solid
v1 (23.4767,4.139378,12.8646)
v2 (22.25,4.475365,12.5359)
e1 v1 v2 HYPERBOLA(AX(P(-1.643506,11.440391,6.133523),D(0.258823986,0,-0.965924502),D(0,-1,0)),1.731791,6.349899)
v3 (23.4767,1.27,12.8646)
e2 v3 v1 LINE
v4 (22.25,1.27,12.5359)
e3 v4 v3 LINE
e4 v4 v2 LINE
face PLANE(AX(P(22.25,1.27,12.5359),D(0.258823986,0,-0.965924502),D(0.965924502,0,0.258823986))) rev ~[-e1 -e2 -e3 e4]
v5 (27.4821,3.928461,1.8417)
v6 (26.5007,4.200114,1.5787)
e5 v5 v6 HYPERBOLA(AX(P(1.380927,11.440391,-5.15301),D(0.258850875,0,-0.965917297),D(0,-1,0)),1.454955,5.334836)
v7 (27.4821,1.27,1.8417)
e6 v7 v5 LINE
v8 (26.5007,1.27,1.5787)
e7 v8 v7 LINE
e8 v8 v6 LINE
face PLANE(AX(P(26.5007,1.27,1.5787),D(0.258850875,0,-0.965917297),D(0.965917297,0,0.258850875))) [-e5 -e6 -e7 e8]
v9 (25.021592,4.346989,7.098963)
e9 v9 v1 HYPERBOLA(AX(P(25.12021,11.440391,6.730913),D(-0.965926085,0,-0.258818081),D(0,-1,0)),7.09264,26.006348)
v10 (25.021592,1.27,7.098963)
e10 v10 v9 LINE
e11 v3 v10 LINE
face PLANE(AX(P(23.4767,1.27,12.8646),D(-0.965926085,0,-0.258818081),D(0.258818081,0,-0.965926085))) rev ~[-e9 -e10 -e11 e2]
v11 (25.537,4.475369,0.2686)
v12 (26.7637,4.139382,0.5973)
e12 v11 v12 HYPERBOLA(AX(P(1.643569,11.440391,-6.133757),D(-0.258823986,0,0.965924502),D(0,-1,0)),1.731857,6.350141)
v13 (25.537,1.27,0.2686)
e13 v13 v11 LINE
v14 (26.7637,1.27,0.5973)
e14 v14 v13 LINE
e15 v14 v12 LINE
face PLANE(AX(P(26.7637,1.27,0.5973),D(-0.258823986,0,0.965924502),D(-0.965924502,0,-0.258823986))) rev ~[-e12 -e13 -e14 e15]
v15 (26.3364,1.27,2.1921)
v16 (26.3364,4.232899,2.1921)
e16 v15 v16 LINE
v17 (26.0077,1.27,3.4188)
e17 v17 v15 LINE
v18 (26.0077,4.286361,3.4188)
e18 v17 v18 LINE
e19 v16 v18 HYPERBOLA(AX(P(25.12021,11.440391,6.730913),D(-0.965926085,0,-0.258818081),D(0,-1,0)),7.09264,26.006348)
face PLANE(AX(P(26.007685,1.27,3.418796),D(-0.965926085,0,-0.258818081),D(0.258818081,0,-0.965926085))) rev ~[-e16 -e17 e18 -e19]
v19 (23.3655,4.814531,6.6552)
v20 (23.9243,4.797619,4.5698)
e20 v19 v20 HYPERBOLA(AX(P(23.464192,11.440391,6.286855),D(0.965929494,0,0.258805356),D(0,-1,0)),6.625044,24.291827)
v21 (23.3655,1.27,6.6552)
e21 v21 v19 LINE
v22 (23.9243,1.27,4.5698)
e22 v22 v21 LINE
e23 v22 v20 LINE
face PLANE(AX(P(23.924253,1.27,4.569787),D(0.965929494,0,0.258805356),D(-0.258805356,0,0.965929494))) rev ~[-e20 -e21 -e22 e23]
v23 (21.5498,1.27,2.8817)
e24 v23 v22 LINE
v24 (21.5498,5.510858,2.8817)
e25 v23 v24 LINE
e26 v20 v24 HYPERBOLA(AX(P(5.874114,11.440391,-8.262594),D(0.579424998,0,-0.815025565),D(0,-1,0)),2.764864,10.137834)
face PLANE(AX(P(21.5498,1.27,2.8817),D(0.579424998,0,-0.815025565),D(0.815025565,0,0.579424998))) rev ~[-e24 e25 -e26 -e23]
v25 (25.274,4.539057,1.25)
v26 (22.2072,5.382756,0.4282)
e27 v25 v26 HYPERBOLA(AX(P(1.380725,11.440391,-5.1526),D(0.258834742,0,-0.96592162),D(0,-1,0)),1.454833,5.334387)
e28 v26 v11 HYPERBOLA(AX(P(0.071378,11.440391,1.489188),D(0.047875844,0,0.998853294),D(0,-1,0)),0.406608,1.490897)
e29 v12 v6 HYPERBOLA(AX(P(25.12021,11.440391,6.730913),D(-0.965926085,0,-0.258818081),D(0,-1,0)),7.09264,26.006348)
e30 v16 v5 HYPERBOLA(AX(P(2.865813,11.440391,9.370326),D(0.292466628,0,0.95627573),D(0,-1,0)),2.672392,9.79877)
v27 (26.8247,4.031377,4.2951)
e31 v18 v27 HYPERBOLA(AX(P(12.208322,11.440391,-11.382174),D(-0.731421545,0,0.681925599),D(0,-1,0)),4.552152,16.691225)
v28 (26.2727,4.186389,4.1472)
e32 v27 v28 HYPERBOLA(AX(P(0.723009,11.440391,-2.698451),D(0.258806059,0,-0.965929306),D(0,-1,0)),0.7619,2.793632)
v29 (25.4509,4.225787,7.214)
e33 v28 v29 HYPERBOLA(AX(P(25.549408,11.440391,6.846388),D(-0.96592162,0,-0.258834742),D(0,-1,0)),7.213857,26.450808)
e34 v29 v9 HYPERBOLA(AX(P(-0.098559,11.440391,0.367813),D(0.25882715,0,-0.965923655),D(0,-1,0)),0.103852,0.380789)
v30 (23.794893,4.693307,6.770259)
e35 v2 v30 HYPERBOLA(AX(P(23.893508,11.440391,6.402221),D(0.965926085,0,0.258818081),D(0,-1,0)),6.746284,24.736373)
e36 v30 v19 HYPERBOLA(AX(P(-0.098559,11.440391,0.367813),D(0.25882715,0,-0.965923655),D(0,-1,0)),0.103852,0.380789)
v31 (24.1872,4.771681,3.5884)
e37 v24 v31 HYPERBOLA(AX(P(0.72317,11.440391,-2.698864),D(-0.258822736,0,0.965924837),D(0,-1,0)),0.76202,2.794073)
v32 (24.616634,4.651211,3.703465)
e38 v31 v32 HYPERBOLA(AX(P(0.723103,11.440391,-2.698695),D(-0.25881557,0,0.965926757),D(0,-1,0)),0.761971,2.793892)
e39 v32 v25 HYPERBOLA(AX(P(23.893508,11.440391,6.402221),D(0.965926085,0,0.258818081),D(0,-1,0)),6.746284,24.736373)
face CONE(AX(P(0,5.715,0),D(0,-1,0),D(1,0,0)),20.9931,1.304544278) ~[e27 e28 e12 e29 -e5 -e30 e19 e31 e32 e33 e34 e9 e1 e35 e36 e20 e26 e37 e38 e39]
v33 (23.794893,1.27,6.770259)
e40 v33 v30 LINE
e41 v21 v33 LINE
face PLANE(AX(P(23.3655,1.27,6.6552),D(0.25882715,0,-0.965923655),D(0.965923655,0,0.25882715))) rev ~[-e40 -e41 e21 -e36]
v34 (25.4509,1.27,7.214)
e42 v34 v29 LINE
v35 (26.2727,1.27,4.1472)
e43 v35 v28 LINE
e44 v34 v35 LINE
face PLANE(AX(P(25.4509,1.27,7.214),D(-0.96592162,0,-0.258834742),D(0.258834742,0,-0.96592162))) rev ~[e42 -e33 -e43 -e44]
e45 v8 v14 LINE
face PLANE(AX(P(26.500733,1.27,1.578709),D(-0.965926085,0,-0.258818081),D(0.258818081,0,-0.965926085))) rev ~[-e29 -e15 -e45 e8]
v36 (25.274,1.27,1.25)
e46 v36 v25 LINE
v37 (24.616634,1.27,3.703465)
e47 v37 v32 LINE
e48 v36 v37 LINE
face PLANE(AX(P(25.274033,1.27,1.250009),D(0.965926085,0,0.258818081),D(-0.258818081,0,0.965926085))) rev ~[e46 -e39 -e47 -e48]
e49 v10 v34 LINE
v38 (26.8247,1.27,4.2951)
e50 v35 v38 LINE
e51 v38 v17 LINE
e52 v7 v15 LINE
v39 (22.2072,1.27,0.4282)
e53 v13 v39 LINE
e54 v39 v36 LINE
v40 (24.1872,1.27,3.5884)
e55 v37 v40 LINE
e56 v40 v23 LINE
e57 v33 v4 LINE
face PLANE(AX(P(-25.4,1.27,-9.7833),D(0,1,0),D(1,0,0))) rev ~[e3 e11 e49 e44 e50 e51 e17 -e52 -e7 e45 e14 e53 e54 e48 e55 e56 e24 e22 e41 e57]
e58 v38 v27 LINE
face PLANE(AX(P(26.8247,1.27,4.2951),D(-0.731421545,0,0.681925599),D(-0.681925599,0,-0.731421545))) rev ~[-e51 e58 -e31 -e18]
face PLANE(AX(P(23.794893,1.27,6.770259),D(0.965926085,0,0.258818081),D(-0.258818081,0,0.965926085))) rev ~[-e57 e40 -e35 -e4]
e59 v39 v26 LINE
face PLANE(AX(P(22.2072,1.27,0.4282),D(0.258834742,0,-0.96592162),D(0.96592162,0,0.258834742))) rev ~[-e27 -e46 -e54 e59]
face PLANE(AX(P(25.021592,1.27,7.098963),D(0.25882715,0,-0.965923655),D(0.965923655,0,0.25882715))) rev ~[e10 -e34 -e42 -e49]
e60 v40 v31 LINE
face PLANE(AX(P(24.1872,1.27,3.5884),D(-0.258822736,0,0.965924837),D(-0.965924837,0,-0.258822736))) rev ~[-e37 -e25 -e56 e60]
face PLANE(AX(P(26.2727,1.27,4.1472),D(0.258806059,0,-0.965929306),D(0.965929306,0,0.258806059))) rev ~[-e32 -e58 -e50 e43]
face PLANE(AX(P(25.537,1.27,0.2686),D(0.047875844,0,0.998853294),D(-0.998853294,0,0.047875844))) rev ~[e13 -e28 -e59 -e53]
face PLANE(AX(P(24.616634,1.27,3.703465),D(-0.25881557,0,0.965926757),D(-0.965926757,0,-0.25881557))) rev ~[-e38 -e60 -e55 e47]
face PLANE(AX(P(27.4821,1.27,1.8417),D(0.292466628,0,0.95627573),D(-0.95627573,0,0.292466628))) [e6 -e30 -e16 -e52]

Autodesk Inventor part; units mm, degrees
ref_plane "YZ Plane" through (0, 0, 0) normal (1, 0, 0) x (0, 1, 0)
ref_plane "XZ Plane" through (0, 0, 0) normal (0, 1, 0) x (-1, 0, 0)
ref_plane "XY Plane" through (0, 0, 0) normal (0, 0, 1) x (1, 0, 0)
sketch "Sketch1" plane through (0, 0, 0) normal (0, 0, 1) x (1, 0, 0)
  line L0 (0, 0) -> (0, 8.6646) construction
  line L1 (20.9931, 1.27) -> (20.9931, 5.715)
  line L2 (20.9931, 5.715) -> (27.9781, 3.81)
  line L3 (27.9781, 3.81) -> (27.9781, 0)
  line L4 (27.9781, 0) -> (20.9931, 0)
  line L5 (20.9931, 1.27) -> (18.4531, 1.27)
  line L6 (18.4531, 1.27) -> (18.4531, 0)
  line L7 (18.4531, 0) -> (20.9931, 0)
  dimension "d0" = 20.9931
  dimension "d1" = 4.445
  dimension "d2" = 1.27
  dimension "d3" = 2.54
  dimension "d4" = 3.81
  dimension "d5" = 6.985
revolve "Revolution1" add sketch "Sketch1" angle 360 about axis through (0, 0, 0) along (0, 1, 0)
sketch "Sketch2" plane through (0, 1.27, 0) normal (0, 1, 0) x (1, 0, 0)
  circle A0 centre (0, 0) radius 20.9931 projected
  circle A1 centre (0, 0) radius 27.9781 projected
  circle A2 centre (0, 0) radius 18.4531 projected
  line L0 (-4.2505, -7.1349) -> (4.1315, -7.1349) projected
  circle A3 centre (0, 0) radius 19.685 projected
  line L1 (-12.7595, -2.2222) -> (-12.7595, -29.7716) construction
  line L2 (12.6405, -2.2222) -> (12.6405, -30.8961) construction
  line L3 (-12.7549, -7.1349) -> (-31.6502, -7.1349) construction
  line L4 (0, 0) -> (17.3317, 30.0193) construction
  line L5 (-18.5741, 9.7833) -> (-25.4, 9.7833)
  line L6 (-18.8949, 9.1483) -> (-25.4, 9.1483)
  line L7 (-25.4, 9.1483) -> (-25.4, 9.7833)
  line L8 (-19.8553, -6.8174) -> (-25.4, -6.8174)
  line L9 (-25.4, -6.8174) -> (-25.4, -7.4524)
  line L10 (-25.4, -7.4524) -> (-19.6258, -7.4524)
  line L11 (0.1351, 9.4658) -> (-31.517, 9.4658) construction
  line L12 (-24.13, 9.1483) -> (-22.86, 6.9486)
  line L13 (-22.86, 6.9486) -> (-25.4, 6.9486)
  line L14 (-25.4, 6.9486) -> (-24.13, 9.1483)
  line L15 (-24.13, -6.8174) -> (-25.4, -4.6177)
  line L16 (-25.4, -4.6177) -> (-22.86, -4.6177)
  line L17 (-22.86, -4.6177) -> (-24.13, -6.8174)
  line L18 (-29.0818, 1.1654) -> (-16.5563, 1.1654) construction
  line L19 (-24.13, 7.6818) -> (-24.13, -5.3509) construction
  line L20 (-23.8125, 2.4354) -> (-24.4475, 2.4354)
  line L21 (-24.4475, 2.4354) -> (-24.4475, 6.9486)
  line L22 (-24.4475, 6.9486) -> (-23.8125, 6.9486)
  line L23 (-23.8125, 6.9486) -> (-23.8125, 2.4354)
  line L24 (-23.8125, 2.4354) -> (-24.4475, 6.9486) construction
  line L25 (-24.4475, 2.4354) -> (-23.8125, 6.9486) construction
  line L26 (-23.8125, -0.1046) -> (-24.4475, -0.1046)
  line L27 (-24.4475, -0.1046) -> (-24.4475, -4.6177)
  line L28 (-24.4475, -4.6177) -> (-23.8125, -4.6177)
  line L29 (-23.8125, -4.6177) -> (-23.8125, -0.1046)
  line L30 (-23.8125, -0.1046) -> (-24.4475, -4.6177) construction
  line L31 (-24.4475, -0.1046) -> (-23.8125, -4.6177) construction
  line L32 (-13.077, -16.4226) -> (-13.077, -23.7886)
  line L33 (-13.077, -23.7886) -> (-12.442, -23.7886)
  line L34 (-12.442, -23.7886) -> (-12.442, -16.9088)
  line L35 (12.323, -16.9957) -> (12.323, -23.7886)
  line L36 (12.323, -23.7886) -> (12.958, -23.7886)
  line L37 (12.958, -23.7886) -> (12.958, -16.5167)
  line L38 (-12.442, -22.5186) -> (-10.2423, -21.2486)
  line L39 (-10.2423, -21.2486) -> (-10.2423, -23.7886)
  line L40 (-10.2423, -23.7886) -> (-12.442, -22.5186)
  line L41 (12.323, -22.5186) -> (10.1233, -23.7886)
  line L42 (10.1233, -23.7886) -> (10.1233, -21.2486)
  line L43 (10.1233, -21.2486) -> (12.323, -22.5186)
  line L44 (-3.8695, -21.2486) -> (3.7505, -21.2486) construction
  line L45 (3.7505, -21.2486) -> (3.7505, -23.7886) construction
  line L46 (3.7505, -23.7886) -> (-3.8695, -23.7886) construction
  line L47 (-3.8695, -23.7886) -> (-3.8695, -21.2486) construction
  line L48 (-0.0595, -13.6296) -> (-0.0595, -32.797) construction
  line L49 (-10.2423, -22.5186) -> (10.1233, -22.5186) construction
  line L50 (-4.2505, -22.8361) -> (-10.2423, -22.8361)
  line L51 (-10.2423, -22.8361) -> (-10.2423, -22.2011)
  line L52 (-10.2423, -22.2011) -> (-4.2505, -22.2011)
  line L53 (-4.2505, -22.2011) -> (-4.2505, -22.8361)
  line L54 (-4.2505, -22.8361) -> (-10.2423, -22.2011) construction
  line L55 (-10.2423, -22.8361) -> (-4.2505, -22.2011) construction
  line L56 (4.1315, -22.2011) -> (10.1233, -22.2011)
  line L57 (10.1233, -22.2011) -> (10.1233, -22.8361)
  line L58 (10.1233, -22.8361) -> (4.1315, -22.8361)
  line L59 (4.1315, -22.8361) -> (4.1315, -22.2011)
  line L60 (4.1315, -22.2011) -> (10.1233, -22.8361) construction
  line L61 (10.1233, -22.2011) -> (4.1315, -22.8361) construction
  line L62 (10.2204, 18.3372) -> (11.1133, 19.8839)
  line L63 (11.1133, 19.8839) -> (11.6633, 19.5664)
  line L64 (11.6633, 19.5664) -> (10.7703, 18.0197)
  line L65 (12.8992, 20.8364) -> (18.6142, 20.8364) construction
  line L66 (18.6142, 20.8364) -> (18.6142, 18.2964) construction
  line L67 (18.6142, 18.2964) -> (12.8992, 18.2964) construction
  line L68 (12.8992, 18.2964) -> (12.8992, 20.8364) construction
  line L69 (11.1133, 19.8839) -> (12.8992, 19.8839)
  line L70 (12.8992, 19.8839) -> (12.8992, 19.2489)
  line L71 (12.8992, 19.2489) -> (11.1133, 19.2489)
  line L72 (11.1133, 19.2489) -> (11.1133, 19.8839)
  line L73 (11.1133, 19.8839) -> (12.8992, 19.2489) construction
  line L74 (12.8992, 19.8839) -> (11.1133, 19.2489) construction
  circle A4 centre (0, 0) radius 22.8981 construction
  line L75 (11.4654, -8.564) -> (6.3194, -8.564) projected
  spline S0 degree 2 poles (-4.3048, 23.0885) (-4.5009, 22.6771) (-4.9694, 22.2828) (-5.345, 22.1916) knots 0 0 0 1 2 2 2
  spline S1 degree 2 poles (-5.345, 22.1916) (-5.9856, 22.0361) (-6.5218, 22.4794) knots 0 0 0 1 1 1
  spline S2 degree 2 poles (-6.5218, 22.4794) (-7.071, 22.9258) (-7.2859, 23.8109) knots 0 0 0 1 1 1
  spline S3 degree 2 poles (-7.2859, 23.8109) (-7.5233, 24.7892) (-7.1789, 25.4155) knots 0 0 0 1 1 1
  spline S4 degree 2 poles (-7.1789, 25.4155) (-6.903, 25.9172) (-6.3614, 26.0486) knots 0 0 0 1 1 1
  spline S5 degree 2 poles (-6.3614, 26.0486) (-5.9392, 26.1511) (-5.6643, 26.0853) knots 0 0 0 1 1 1
  spline S6 degree 2 poles (-5.6643, 26.0853) (-5.3596, 26.0112) (-5.0862, 25.7107) knots 0 0 0 1 1 1
  spline S7 degree 2 poles (-5.0862, 25.7107) (-5.0278, 25.6478) (-5.0115, 25.5808) knots 0 0 0 1 1 1
  spline S8 degree 2 poles (-5.0115, 25.5808) (-4.9832, 25.4644) (-5.1191, 25.2618) (-5.2268, 25.2357) knots 0 0 0 1 2 2 2
  spline S9 degree 2 poles (-5.2268, 25.2357) (-5.3782, 25.1989) (-5.5051, 25.3408) knots 0 0 0 1 1 1
  spline S10 degree 2 poles (-5.5051, 25.3408) (-5.6451, 25.4856) (-5.8317, 25.5174) knots 0 0 0 1 1 1
  spline S11 degree 2 poles (-5.8317, 25.5174) (-5.9746, 25.5475) (-6.2279, 25.486) knots 0 0 0 1 1 1
  spline S12 degree 2 poles (-6.2279, 25.486) (-6.5569, 25.4061) (-6.7127, 25.0569) knots 0 0 0 1 1 1
  spline S13 degree 2 poles (-6.7127, 25.0569) (-6.906, 24.6338) (-6.7385, 23.9438) knots 0 0 0 1 1 1
  spline S14 degree 2 poles (-6.7385, 23.9438) (-6.5844, 23.309) (-5.8687, 22.6596) (-5.4727, 22.7557) knots 0 0 0 1 2 2 2
  spline S15 degree 2 poles (-5.4727, 22.7557) (-5.0447, 22.8596) (-4.8204, 23.3456) knots 0 0 0 1 1 1
  spline S16 degree 2 poles (-4.8204, 23.3456) (-4.7629, 23.4644) (-4.6377, 23.4948) knots 0 0 0 1 1 1
  spline S17 degree 2 poles (-4.6377, 23.4948) (-4.53, 23.521) (-4.3078, 23.393) (-4.2802, 23.2794) knots 0 0 0 1 2 2 2
  spline S18 degree 2 poles (-4.2802, 23.2794) (-4.2576, 23.1863) (-4.3048, 23.0885) knots 0 0 0 1 1 1
  spline S19 degree 2 poles (-2.5624, 23.1168) (-2.545, 22.971) (-2.7214, 22.7539) (-2.8582, 22.7376) knots 0 0 0 1 2 2 2
  spline S20 degree 2 poles (-2.8582, 22.7376) (-3.007, 22.7199) (-3.2201, 22.8877) (-3.2378, 23.0364) knots 0 0 0 1 2 2 2
  spline S21 degree 2 poles (-3.2378, 23.0364) (-3.254, 23.1733) (-3.087, 23.3923) (-2.9382, 23.41) knots 0 0 0 1 2 2 2
  spline S22 degree 2 poles (-2.9382, 23.41) (-2.8014, 23.4263) (-2.5783, 23.2507) (-2.5624, 23.1168) knots 0 0 0 1 2 2 2
  spline S23 degree 2 poles (1.6575, 23.2292) (1.6783, 23.1693) (1.6781, 23.1183) knots 0 0 0 1 1 1
  spline S24 degree 2 poles (1.6781, 23.1183) (1.6778, 22.9955) (1.4946, 22.8432) (1.3837, 22.8435) knots 0 0 0 1 2 2 2
  spline S25 degree 2 poles (1.3837, 22.8435) (1.189, 22.844) (1.1206, 23.024) knots 0 0 0 1 1 1
  line L76 (1.1206, 23.024) -> (0.9153, 23.5578)
  line L77 (0.9153, 23.5578) -> (-0.8255, 23.5626)
  line L78 (-0.8255, 23.5626) -> (-1.0307, 23.0328)
  spline S26 degree 2 poles (-1.0307, 23.0328) (-1.1001, 22.8503) (-1.2888, 22.8508) knots 0 0 0 1 1 1
  spline S27 degree 2 poles (-1.2888, 22.8508) (-1.4087, 22.8511) (-1.585, 23.0074) (-1.5847, 23.1272) knots 0 0 0 1 2 2 2
  spline S28 degree 2 poles (-1.5847, 23.1272) (-1.5846, 23.1812) (-1.5665, 23.2291) knots 0 0 0 1 1 1
  line L79 (-1.5665, 23.2291) -> (-0.2988, 26.5993)
  spline S29 degree 2 poles (-0.2988, 26.5993) (-0.2174, 26.8148) (0.0283, 26.8141) knots 0 0 0 1 1 1
  spline S30 degree 2 poles (0.0283, 26.8141) (0.28, 26.8135) (0.3484, 26.6245) knots 0 0 0 1 1 1
  line L80 (0.3484, 26.6245) -> (1.6575, 23.2292)
  line L81 (0.7221, 24.1366) -> (0.026, 25.9722)
  line L82 (0.026, 25.9722) -> (-0.6322, 24.1403)
  line L83 (-0.6322, 24.1403) -> (0.7221, 24.1366)
  spline S31 degree 2 poles (3.0603, 23.0562) (3.0422, 22.9105) (2.8189, 22.742) (2.6821, 22.7591) knots 0 0 0 1 2 2 2
  spline S32 degree 2 poles (2.6821, 22.7591) (2.5335, 22.7776) (2.3669, 22.9916) (2.3854, 23.1402) knots 0 0 0 1 2 2 2
  spline S33 degree 2 poles (2.3854, 23.1402) (2.4024, 23.277) (2.6172, 23.4495) (2.7658, 23.431) knots 0 0 0 1 2 2 2
  spline S34 degree 2 poles (2.7658, 23.431) (2.9026, 23.414) (3.077, 23.19) (3.0603, 23.0562) knots 0 0 0 1 2 2 2
  spline S35 degree 2 poles (7.2494, 23.9177) (6.9985, 22.8964) (6.3258, 22.4939) knots 0 0 0 1 1 1
  spline S36 degree 2 poles (6.3258, 22.4939) (5.7821, 22.1647) (5.1478, 22.3205) knots 0 0 0 1 1 1
  line L84 (5.1478, 22.3205) -> (4.1323, 22.5699)
  line L85 (4.1323, 22.5699) -> (5.0564, 26.3321)
  line L86 (5.0564, 26.3321) -> (6.069, 26.0834)
  spline S37 degree 2 poles (6.069, 26.0834) (6.6946, 25.9298) (7.047, 25.4051) knots 0 0 0 1 1 1
  spline S38 degree 2 poles (7.047, 25.4051) (7.4616, 24.7818) (7.2494, 23.9177) knots 0 0 0 1 1 1
  spline S39 degree 2 poles (6.7023, 24.052) (6.8474, 24.6427) (6.5732, 25.0587) knots 0 0 0 1 1 1
  spline S40 degree 2 poles (6.5732, 25.0587) (6.337, 25.416) (5.9267, 25.5167) knots 0 0 0 1 1 1
  line L87 (5.9267, 25.5167) -> (5.4641, 25.6304)
  line L88 (5.4641, 25.6304) -> (4.8173, 22.9971)
  line L89 (4.8173, 22.9971) -> (5.2857, 22.882)
  spline S41 degree 2 poles (5.2857, 22.882) (5.7047, 22.7791) (6.047, 22.9666) knots 0 0 0 1 1 1
  spline S42 degree 2 poles (6.047, 22.9666) (6.5215, 23.3159) (6.7023, 24.052) knots 0 0 0 1 1 1
  line L90 (-26.9128, 0.2129) -> (-27.3651, 0.2129)
  line L91 (-27.3651, 0.2129) -> (-27.3651, 0.7162)
  line L92 (-27.3651, 0.7162) -> (-26.9128, 0.7162)
  line L93 (-26.9128, 0.7162) -> (-26.9128, 0.2129)
  spline S43 degree 2 poles (-25.1468, 0.8613) (-25.1468, 0.5603) (-25.5281, 0.1728) (-25.8615, 0.1728) knots 0 0 0 1 2 2 2
  spline S44 degree 2 poles (-25.8615, 0.1728) (-26.0282, 0.1728) (-26.2891, 0.2685) (-26.3802, 0.3627) knots 0 0 0 1 2 2 2
  spline S45 degree 2 poles (-26.3802, 0.3627) (-26.4883, 0.4723) (-26.6041, 0.8196) (-26.6041, 1.062) knots 0 0 0 1 2 2 2
  spline S46 degree 2 poles (-26.6041, 1.062) (-26.6041, 1.3121) (-26.496, 1.7011) (-26.374, 1.8509) knots 0 0 0 1 2 2 2
  spline S47 degree 2 poles (-26.374, 1.8509) (-26.2583, 1.9929) (-25.8816, 2.1535) (-25.6238, 2.1535) knots 0 0 0 1 2 2 2
  spline S48 degree 2 poles (-25.6238, 2.1535) (-25.5296, 2.1535) (-25.3413, 2.1288) (-25.3073, 2.121) knots 0 0 0 1 2 2 2
  line L94 (-25.3073, 2.121) -> (-25.3073, 1.7474)
  line L95 (-25.3073, 1.7474) -> (-25.3413, 1.7474)
  spline S49 degree 2 poles (-25.3413, 1.7474) (-25.3752, 1.7644) (-25.5296, 1.8061) (-25.6284, 1.8061) knots 0 0 0 1 2 2 2
  spline S50 degree 2 poles (-25.6284, 1.8061) (-25.8523, 1.8061) (-26.0962, 1.5699) (-26.1255, 1.3507) knots 0 0 0 1 2 2 2
  spline S51 degree 2 poles (-26.1255, 1.3507) (-26.0313, 1.4109) (-25.8384, 1.4819) (-25.7164, 1.4819) knots 0 0 0 1 2 2 2
  spline S52 degree 2 poles (-25.7164, 1.4819) (-25.613, 1.4819) (-25.4324, 1.4263) (-25.3629, 1.3739) knots 0 0 0 1 2 2 2
  spline S53 degree 2 poles (-25.3629, 1.3739) (-25.2641, 1.2982) (-25.1468, 1.0528) (-25.1468, 0.8613) knots 0 0 0 1 2 2 2
  spline S54 degree 2 poles (-25.7041, 0.5742) (-25.667, 0.6205) (-25.6269, 0.7286) (-25.6269, 0.8382) knots 0 0 0 1 2 2 2
  spline S55 degree 2 poles (-25.6269, 0.8382) (-25.6269, 0.9308) (-25.6732, 1.0512) (-25.7149, 1.0867) knots 0 0 0 1 2 2 2
  spline S56 degree 2 poles (-25.7149, 1.0867) (-25.7581, 1.1238) (-25.8646, 1.15) (-25.9248, 1.15) knots 0 0 0 1 2 2 2
  spline S57 degree 2 poles (-25.9248, 1.15) (-25.9758, 1.15) (-26.0807, 1.1238) (-26.127, 1.1052) knots 0 0 0 1 2 2 2
  spline S58 degree 2 poles (-26.127, 1.1052) (-26.127, 1.0929) (-26.1301, 1.0342) (-26.1301, 0.9895) knots 0 0 0 1 2 2 2
  spline S59 degree 2 poles (-26.1301, 0.9895) (-26.1301, 0.8243) (-26.073, 0.6251) (-26.0282, 0.5742) knots 0 0 0 1 2 2 2
  spline S60 degree 2 poles (-26.0282, 0.5742) (-25.9958, 0.5325) (-25.9094, 0.497) (-25.8631, 0.497) knots 0 0 0 1 2 2 2
  spline S61 degree 2 poles (-25.8631, 0.497) (-25.8245, 0.497) (-25.7349, 0.5356) (-25.7041, 0.5742) knots 0 0 0 1 2 2 2
  spline S62 degree 2 poles (-23.5104, 0.8582) (-23.5104, 0.7085) (-23.6123, 0.4553) (-23.7126, 0.3642) knots 0 0 0 1 2 2 2
  spline S63 degree 2 poles (-23.7126, 0.3642) (-23.8129, 0.2732) (-24.0877, 0.1728) (-24.2884, 0.1728) knots 0 0 0 1 2 2 2
  spline S64 degree 2 poles (-24.2884, 0.1728) (-24.5015, 0.1744) (-24.8071, 0.2438) (-24.9075, 0.2886) knots 0 0 0 1 2 2 2
  line L96 (-24.9075, 0.2886) -> (-24.9075, 0.7039)
  line L97 (-24.9075, 0.7039) -> (-24.8643, 0.7039)
  spline S65 degree 2 poles (-24.8643, 0.7039) (-24.8272, 0.6838) (-24.7377, 0.6313) (-24.6651, 0.6035) knots 0 0 0 1 2 2 2
  spline S66 degree 2 poles (-24.6651, 0.6035) (-24.5972, 0.5773) (-24.4567, 0.5418) (-24.3718, 0.5418) knots 0 0 0 1 2 2 2
  spline S67 degree 2 poles (-24.3718, 0.5418) (-24.2977, 0.5418) (-24.1248, 0.5788) (-24.0723, 0.6282) knots 0 0 0 1 2 2 2
  spline S68 degree 2 poles (-24.0723, 0.6282) (-24.0337, 0.6668) (-23.9905, 0.761) (-23.9905, 0.8397) knots 0 0 0 1 2 2 2
  spline S69 degree 2 poles (-23.9905, 0.8397) (-23.9905, 0.9076) (-24.0461, 1.0034) (-24.0908, 1.0327) knots 0 0 0 1 2 2 2
  spline S70 degree 2 poles (-24.0908, 1.0327) (-24.1557, 1.0759) (-24.3409, 1.1006) (-24.4073, 1.1006) knots 0 0 0 1 2 2 2
  spline S71 degree 2 poles (-24.4073, 1.1006) (-24.5123, 1.1006) (-24.7114, 1.0666) (-24.784, 1.0481) knots 0 0 0 1 2 2 2
  line L98 (-24.784, 1.0481) -> (-24.8257, 1.0481)
  line L99 (-24.8257, 1.0481) -> (-24.8257, 2.1179)
  line L100 (-24.8257, 2.1179) -> (-23.5629, 2.1179)
  line L101 (-23.5629, 2.1179) -> (-23.5629, 1.7583)
  line L102 (-23.5629, 1.7583) -> (-24.3733, 1.7583)
  line L103 (-24.3733, 1.7583) -> (-24.3733, 1.4418)
  spline S72 degree 2 poles (-24.3733, 1.4418) (-24.3347, 1.4449) (-24.2282, 1.448) (-24.1989, 1.448) knots 0 0 0 1 2 2 2
  spline S73 degree 2 poles (-24.1989, 1.448) (-24.0615, 1.448) (-23.8299, 1.3924) (-23.7388, 1.3353) knots 0 0 0 1 2 2 2
  spline S74 degree 2 poles (-23.7388, 1.3353) (-23.6308, 1.2642) (-23.5104, 1.0281) (-23.5104, 0.8582) knots 0 0 0 1 2 2 2
  line L104 (-21.7752, 0.6575) -> (-22.033, 0.6575)
  line L105 (-22.033, 0.6575) -> (-22.033, 0.2083)
  line L106 (-22.033, 0.2083) -> (-22.4946, 0.2083)
  line L107 (-22.4946, 0.2083) -> (-22.4946, 0.6575)
  line L108 (-22.4946, 0.6575) -> (-23.3344, 0.6575)
  line L109 (-23.3344, 0.6575) -> (-23.3344, 1.0126)
  line L110 (-23.3344, 1.0126) -> (-22.51, 2.1179)
  line L111 (-22.51, 2.1179) -> (-22.033, 2.1179)
  line L112 (-22.033, 2.1179) -> (-22.033, 1.0003)
  line L113 (-22.033, 1.0003) -> (-21.7752, 1.0003)
  line L114 (-21.7752, 1.0003) -> (-21.7752, 0.6575)
  line L115 (-22.4946, 1.0003) -> (-22.4946, 1.6486)
  line L116 (-22.4946, 1.6486) -> (-22.9778, 1.0003)
  line L117 (-22.9778, 1.0003) -> (-22.4946, 1.0003)
  line L118 (-2.2979, -23.4704) -> (-3.5561, -23.4704)
  line L119 (-3.5561, -23.4704) -> (-3.5561, -23.1385)
  line L120 (-3.5561, -23.1385) -> (-3.1547, -23.1385)
  line L121 (-3.1547, -23.1385) -> (-3.1547, -22.1304)
  line L122 (-3.1547, -22.1304) -> (-3.5561, -22.1304)
  line L123 (-3.5561, -22.1304) -> (-3.5561, -21.8201)
  spline S75 degree 2 poles (-3.5561, -21.8201) (-3.4681, -21.8201) (-3.2937, -21.7969) (-3.2412, -21.7722) knots 0 0 0 1 2 2 2
  spline S76 degree 2 poles (-3.2412, -21.7722) (-3.181, -21.7413) (-3.113, -21.6379) (-3.1069, -21.5607) knots 0 0 0 1 2 2 2
  line L124 (-3.1069, -21.5607) -> (-2.69, -21.5607)
  line L125 (-2.69, -21.5607) -> (-2.69, -23.1385)
  line L126 (-2.69, -23.1385) -> (-2.2979, -23.1385)
  line L127 (-2.2979, -23.1385) -> (-2.2979, -23.4704)
  line L128 (-1.5029, -23.4704) -> (-1.9552, -23.4704)
  line L129 (-1.9552, -23.4704) -> (-1.9552, -22.9671)
  line L130 (-1.9552, -22.9671) -> (-1.5029, -22.9671)
  line L131 (-1.5029, -22.9671) -> (-1.5029, -23.4704)
  spline S77 degree 2 poles (0.2493, -22.5179) (0.2493, -22.7649) (0.1705, -23.1354) (0.0825, -23.2604) knots 0 0 0 1 2 2 2
  spline S78 degree 2 poles (0.0825, -23.2604) (-0.0039, -23.3839) (-0.2833, -23.5105) (-0.484, -23.5105) knots 0 0 0 1 2 2 2
  spline S79 degree 2 poles (-0.484, -23.5105) (-0.6862, -23.5105) (-0.9641, -23.3839) (-1.0521, -23.2573) knots 0 0 0 1 2 2 2
  spline S80 degree 2 poles (-1.0521, -23.2573) (-1.1401, -23.1323) (-1.2188, -22.7649) (-1.2188, -22.5179) knots 0 0 0 1 2 2 2
  spline S81 degree 2 poles (-1.2188, -22.5179) (-1.2188, -22.2647) (-1.1401, -21.9065) (-1.0506, -21.7769) knots 0 0 0 1 2 2 2
  spline S82 degree 2 poles (-1.0506, -21.7769) (-0.961, -21.6503) (-0.6785, -21.5268) (-0.484, -21.5268) knots 0 0 0 1 2 2 2
  spline S83 degree 2 poles (-0.484, -21.5268) (-0.2787, -21.5268) (-0.0039, -21.6564) (0.0841, -21.7846) knots 0 0 0 1 2 2 2
  spline S84 degree 2 poles (0.0841, -21.7846) (0.1705, -21.9096) (0.2493, -22.2786) (0.2493, -22.5179) knots 0 0 0 1 2 2 2
  spline S85 degree 2 poles (-0.2308, -22.5179) (-0.2308, -22.1643) (-0.3466, -21.8787) (-0.484, -21.8787) knots 0 0 0 1 2 2 2
  spline S86 degree 2 poles (-0.484, -21.8787) (-0.6214, -21.8787) (-0.7387, -22.1643) (-0.7387, -22.5194) knots 0 0 0 1 2 2 2
  spline S87 degree 2 poles (-0.7387, -22.5194) (-0.7387, -22.8683) (-0.6214, -23.1585) (-0.484, -23.1585) knots 0 0 0 1 2 2 2
  spline S88 degree 2 poles (-0.484, -23.1585) (-0.3482, -23.1585) (-0.2308, -22.8683) (-0.2308, -22.5179) knots 0 0 0 1 2 2 2
  spline S89 degree 2 poles (1.9181, -22.5179) (1.9181, -22.7649) (1.8393, -23.1354) (1.7513, -23.2604) knots 0 0 0 1 2 2 2
  spline S90 degree 2 poles (1.7513, -23.2604) (1.6649, -23.3839) (1.3855, -23.5105) (1.1848, -23.5105) knots 0 0 0 1 2 2 2
  spline S91 degree 2 poles (1.1848, -23.5105) (0.9826, -23.5105) (0.7047, -23.3839) (0.6167, -23.2573) knots 0 0 0 1 2 2 2
  spline S92 degree 2 poles (0.6167, -23.2573) (0.5287, -23.1323) (0.45, -22.7649) (0.45, -22.5179) knots 0 0 0 1 2 2 2
  spline S93 degree 2 poles (0.45, -22.5179) (0.45, -22.2647) (0.5287, -21.9065) (0.6182, -21.7769) knots 0 0 0 1 2 2 2
  spline S94 degree 2 poles (0.6182, -21.7769) (0.7078, -21.6503) (0.9903, -21.5268) (1.1848, -21.5268) knots 0 0 0 1 2 2 2
  spline S95 degree 2 poles (1.1848, -21.5268) (1.3901, -21.5268) (1.6649, -21.6564) (1.7529, -21.7846) knots 0 0 0 1 2 2 2
  spline S96 degree 2 poles (1.7529, -21.7846) (1.8393, -21.9096) (1.9181, -22.2786) (1.9181, -22.5179) knots 0 0 0 1 2 2 2
  spline S97 degree 2 poles (1.438, -22.5179) (1.438, -22.1643) (1.3222, -21.8787) (1.1848, -21.8787) knots 0 0 0 1 2 2 2
  spline S98 degree 2 poles (1.1848, -21.8787) (1.0474, -21.8787) (0.9301, -22.1643) (0.9301, -22.5194) knots 0 0 0 1 2 2 2
  spline S99 degree 2 poles (0.9301, -22.5194) (0.9301, -22.8683) (1.0474, -23.1585) (1.1848, -23.1585) knots 0 0 0 1 2 2 2
  spline S100 degree 2 poles (1.1848, -23.1585) (1.3206, -23.1585) (1.438, -22.8683) (1.438, -22.5179) knots 0 0 0 1 2 2 2
  spline S101 degree 2 poles (3.5869, -22.5179) (3.5869, -22.7649) (3.5081, -23.1354) (3.4202, -23.2604) knots 0 0 0 1 2 2 2
  spline S102 degree 2 poles (3.4202, -23.2604) (3.3337, -23.3839) (3.0543, -23.5105) (2.8536, -23.5105) knots 0 0 0 1 2 2 2
  spline S103 degree 2 poles (2.8536, -23.5105) (2.6514, -23.5105) (2.3735, -23.3839) (2.2855, -23.2573) knots 0 0 0 1 2 2 2
  spline S104 degree 2 poles (2.2855, -23.2573) (2.1975, -23.1323) (2.1188, -22.7649) (2.1188, -22.5179) knots 0 0 0 1 2 2 2
  spline S105 degree 2 poles (2.1188, -22.5179) (2.1188, -22.2647) (2.1975, -21.9065) (2.287, -21.7769) knots 0 0 0 1 2 2 2
  spline S106 degree 2 poles (2.287, -21.7769) (2.3766, -21.6503) (2.6591, -21.5268) (2.8536, -21.5268) knots 0 0 0 1 2 2 2
  spline S107 degree 2 poles (2.8536, -21.5268) (3.0589, -21.5268) (3.3337, -21.6564) (3.4217, -21.7846) knots 0 0 0 1 2 2 2
  spline S108 degree 2 poles (3.4217, -21.7846) (3.5081, -21.9096) (3.5869, -22.2786) (3.5869, -22.5179) knots 0 0 0 1 2 2 2
  spline S109 degree 2 poles (3.1068, -22.5179) (3.1068, -22.1643) (2.991, -21.8787) (2.8536, -21.8787) knots 0 0 0 1 2 2 2
  spline S110 degree 2 poles (2.8536, -21.8787) (2.7162, -21.8787) (2.5989, -22.1643) (2.5989, -22.5194) knots 0 0 0 1 2 2 2
  spline S111 degree 2 poles (2.5989, -22.5194) (2.5989, -22.8683) (2.7162, -23.1585) (2.8536, -23.1585) knots 0 0 0 1 2 2 2
  spline S112 degree 2 poles (2.8536, -23.1585) (2.9894, -23.1585) (3.1068, -22.8683) (3.1068, -22.5179) knots 0 0 0 1 2 2 2
  line L132 (14.3527, 18.6316) -> (13.0945, 18.6316)
  line L133 (13.0945, 18.6316) -> (13.0945, 18.9635)
  line L134 (13.0945, 18.9635) -> (13.4959, 18.9635)
  line L135 (13.4959, 18.9635) -> (13.4959, 19.9716)
  line L136 (13.4959, 19.9716) -> (13.0945, 19.9716)
  line L137 (13.0945, 19.9716) -> (13.0945, 20.2819)
  spline S113 degree 2 poles (13.0945, 20.2819) (13.1825, 20.2819) (13.357, 20.3051) (13.4094, 20.3298) knots 0 0 0 1 2 2 2
  spline S114 degree 2 poles (13.4094, 20.3298) (13.4697, 20.3606) (13.5376, 20.4641) (13.5438, 20.5412) knots 0 0 0 1 2 2 2
  line L138 (13.5438, 20.5412) -> (13.9606, 20.5412)
  line L139 (13.9606, 20.5412) -> (13.9606, 18.9635)
  line L140 (13.9606, 18.9635) -> (14.3527, 18.9635)
  line L141 (14.3527, 18.9635) -> (14.3527, 18.6316)
  line L142 (15.1477, 18.6316) -> (14.6954, 18.6316)
  line L143 (14.6954, 18.6316) -> (14.6954, 19.1349)
  line L144 (14.6954, 19.1349) -> (15.1477, 19.1349)
  line L145 (15.1477, 19.1349) -> (15.1477, 18.6316)
  spline S115 degree 2 poles (16.8814, 19.2769) (16.8814, 19.1272) (16.7795, 18.874) (16.6791, 18.7829) knots 0 0 0 1 2 2 2
  spline S116 degree 2 poles (16.6791, 18.7829) (16.5788, 18.6918) (16.304, 18.5915) (16.1033, 18.5915) knots 0 0 0 1 2 2 2
  spline S117 degree 2 poles (16.1033, 18.5915) (15.8903, 18.593) (15.5846, 18.6625) (15.4843, 18.7073) knots 0 0 0 1 2 2 2
  line L146 (15.4843, 18.7073) -> (15.4843, 19.1225)
  line L147 (15.4843, 19.1225) -> (15.5275, 19.1225)
  spline S118 degree 2 poles (15.5275, 19.1225) (15.5645, 19.1025) (15.6541, 19.05) (15.7266, 19.0222) knots 0 0 0 1 2 2 2
  spline S119 degree 2 poles (15.7266, 19.0222) (15.7946, 18.9959) (15.935, 18.9604) (16.0199, 18.9604) knots 0 0 0 1 2 2 2
  spline S120 degree 2 poles (16.0199, 18.9604) (16.094, 18.9604) (16.2669, 18.9975) (16.3194, 19.0469) knots 0 0 0 1 2 2 2
  spline S121 degree 2 poles (16.3194, 19.0469) (16.358, 19.0855) (16.4013, 19.1796) (16.4013, 19.2584) knots 0 0 0 1 2 2 2
  spline S122 degree 2 poles (16.4013, 19.2584) (16.4013, 19.3263) (16.3457, 19.422) (16.3009, 19.4514) knots 0 0 0 1 2 2 2
  spline S123 degree 2 poles (16.3009, 19.4514) (16.2361, 19.4946) (16.0508, 19.5193) (15.9844, 19.5193) knots 0 0 0 1 2 2 2
  spline S124 degree 2 poles (15.9844, 19.5193) (15.8795, 19.5193) (15.6803, 19.4853) (15.6078, 19.4668) knots 0 0 0 1 2 2 2
  line L148 (15.6078, 19.4668) -> (15.5661, 19.4668)
  line L149 (15.5661, 19.4668) -> (15.5661, 20.5366)
  line L150 (15.5661, 20.5366) -> (16.8289, 20.5366)
  line L151 (16.8289, 20.5366) -> (16.8289, 20.1769)
  line L152 (16.8289, 20.1769) -> (16.0184, 20.1769)
  line L153 (16.0184, 20.1769) -> (16.0184, 19.8604)
  spline S125 degree 2 poles (16.0184, 19.8604) (16.057, 19.8635) (16.1635, 19.8666) (16.1928, 19.8666) knots 0 0 0 1 2 2 2
  spline S126 degree 2 poles (16.1928, 19.8666) (16.3302, 19.8666) (16.5618, 19.811) (16.6529, 19.7539) knots 0 0 0 1 2 2 2
  spline S127 degree 2 poles (16.6529, 19.7539) (16.7609, 19.6829) (16.8814, 19.4467) (16.8814, 19.2769) knots 0 0 0 1 2 2 2
  spline S128 degree 2 poles (18.5502, 19.2769) (18.5502, 19.1272) (18.4483, 18.874) (18.3479, 18.7829) knots 0 0 0 1 2 2 2
  spline S129 degree 2 poles (18.3479, 18.7829) (18.2476, 18.6918) (17.9728, 18.5915) (17.7721, 18.5915) knots 0 0 0 1 2 2 2
  spline S130 degree 2 poles (17.7721, 18.5915) (17.5591, 18.593) (17.2534, 18.6625) (17.1531, 18.7073) knots 0 0 0 1 2 2 2
  line L154 (17.1531, 18.7073) -> (17.1531, 19.1225)
  line L155 (17.1531, 19.1225) -> (17.1963, 19.1225)
  spline S131 degree 2 poles (17.1963, 19.1225) (17.2333, 19.1025) (17.3229, 19.05) (17.3954, 19.0222) knots 0 0 0 1 2 2 2
  spline S132 degree 2 poles (17.3954, 19.0222) (17.4634, 18.9959) (17.6038, 18.9604) (17.6887, 18.9604) knots 0 0 0 1 2 2 2
  spline S133 degree 2 poles (17.6887, 18.9604) (17.7628, 18.9604) (17.9358, 18.9975) (17.9882, 19.0469) knots 0 0 0 1 2 2 2
  spline S134 degree 2 poles (17.9882, 19.0469) (18.0268, 19.0855) (18.0701, 19.1796) (18.0701, 19.2584) knots 0 0 0 1 2 2 2
  spline S135 degree 2 poles (18.0701, 19.2584) (18.0701, 19.3263) (18.0145, 19.422) (17.9697, 19.4514) knots 0 0 0 1 2 2 2
  spline S136 degree 2 poles (17.9697, 19.4514) (17.9049, 19.4946) (17.7196, 19.5193) (17.6532, 19.5193) knots 0 0 0 1 2 2 2
  spline S137 degree 2 poles (17.6532, 19.5193) (17.5483, 19.5193) (17.3491, 19.4853) (17.2766, 19.4668) knots 0 0 0 1 2 2 2
  line L156 (17.2766, 19.4668) -> (17.2349, 19.4668)
  line L157 (17.2349, 19.4668) -> (17.2349, 20.5366)
  line L158 (17.2349, 20.5366) -> (18.4977, 20.5366)
  line L159 (18.4977, 20.5366) -> (18.4977, 20.1769)
  line L160 (18.4977, 20.1769) -> (17.6872, 20.1769)
  line L161 (17.6872, 20.1769) -> (17.6872, 19.8604)
  spline S138 degree 2 poles (17.6872, 19.8604) (17.7258, 19.8635) (17.8323, 19.8666) (17.8616, 19.8666) knots 0 0 0 1 2 2 2
  spline S139 degree 2 poles (17.8616, 19.8666) (17.999, 19.8666) (18.2306, 19.811) (18.3217, 19.7539) knots 0 0 0 1 2 2 2
  spline S140 degree 2 poles (18.3217, 19.7539) (18.4298, 19.6829) (18.5502, 19.4467) (18.5502, 19.2769) knots 0 0 0 1 2 2 2
  point P0 (-10.4828, 14.7667)
  point P1 (-24.13, 4.692)
  point P2 (-24.13, -2.3611)
  point P3 (-10.9755, -22.5186)
  point P4 (10.8565, -22.5186)
  point P5 (-3.8695, -22.5186)
  point P6 (-0.0595, -23.7886)
  point P7 (-7.2464, -22.5186)
  point P8 (7.1274, -22.5186)
  point P9 (12.0063, 19.5664)
  point P10 (12.0063, 19.5664)
  point P11 (18.6142, 19.5664)
  dimension "d60" = 0.635
  dimension "d7" = 39.37
  dimension "d9" = 25.4
  dimension "d11" = 0.635
  dimension "d13" = 25.4
  dimension "d14" = 0.635
  dimension "d15" = 0.3175
  dimension "d16" = 16.6007
  dimension "d17" = 0.3175
  dimension "d18" = 2.54
  dimension "d19" = 1.27
  dimension "d20" = 1.27
  dimension "d21" = 0.635
  dimension "d22" = 0.3175
  dimension "d23" = 7.366
  dimension "d24" = 0.3175
  dimension "d25" = 2.54
  dimension "d26" = 7.62
  dimension "d27" = 2.54
  dimension "d28" = 0.635
  dimension "d29" = 0.381
  dimension "d30" = 0.381
  dimension "d31" = 0.635
  dimension "d32" = 0.3175
  dimension "d33" = 5.715
  dimension "d34" = 2.54
  dimension "d35" = 27.94
  dimension "d36" = 0.635
  dimension "d38" = 60
  dimension "d39" = 1.905
extrude "Extrusion1" cut sketch "Sketch2" along normal through all contours L41 L42 L43 | L38 L39 L40 | L15 L16 L17 | L12 L13 L14 | A0 L62 L72 L71 L64 | L37 L36 L35 A0 | L71 L72 L63 L64 | L64 L63 L69 L70 L71 | A0 L6 L7 L5 | L34 L33 L32 A0 | A0 L10 L9 L8 | L58 L59 L56 L42 | L52 L53 L50 L39 | L23 L20 L21 L13 | L27 L26 L29 L16 | S0 S1 S2 S3 S4 S5 S6 S7 S8 S9 S10 S11 S12 S13 S14 S15 S16 S17 S18 | S19 S20 S21 S22 | S23 S24 S25 L76 L77 L78 S26 S27 S28 L79 S29 S30 L80 | S31 S32 S33 S34 | S35 S36 L84 L85 L86 S37 S38 | L90 L91 L92 L93 | S43 S44 S45 S46 S47 S48 L94 L95 S49 S50 S51 S52 S53 | S62 S63 S64 L96 L97 S65 S66 S67 S68 S69 S70 S71 L98 L99 L100 L101 L102 L103 S72 S73 S74 | L104 L105 L106 L107 L108 L109 L110 L111 L112 L113 L114 | L118 L119 L120 L121 L122 L123 S75 S76 L124 L125 L126 L127 | L128 L129 L130 L131 | S77 S78 S79 S80 S81 S82 S83 S84 | S89 S90 S91 S92 S93 S94 S95 S96 | S101 S102 S103 S104 S105 S106 S107 S108 | L132 L133 L134 L135 L136 L137 S113 S114 L138 L139 L140 L141 | L142 L143 L144 L145 | S115 S116 S117 L146 L147 S118 S119 S120 S121 S122 S123 S124 L148 L149 L150 L151 L152 L153 S125 S126 S127 | S128 S129 S130 L154 L155 S131 S132 S133 S134 S135 S136 S137 L156 L157 L158 L159 L160 L161 S138 S139 S140
sketch "Sketch3" plane through (-25.4, 1.27, -9.7833) normal (0, 1, 0) x (1, 0, 0)
  circle A0 centre (25.4, -9.7833) radius 18.415 projected
  circle A1 centre (25.4, -9.7833) radius 19.685 projected
  circle A2 centre (25.4, -9.7833) radius 27.9781 projected
  line L0 (48.8767, -22.6479) -> (52.1637, -10.3806)
  line L1 (52.1637, -10.3806) -> (50.937, -10.0519)
  line L2 (50.937, -10.0519) -> (47.65, -22.3192)
  line L3 (47.65, -22.3192) -> (48.8767, -22.6479)
  line L4 (48.8767, -22.6479) -> (50.937, -10.0519) construction
  line L5 (52.1637, -10.3806) -> (47.65, -22.3192) construction
  line L6 (49.5872, -13.3717) -> (48.7655, -16.4385)
  line L7 (48.7655, -16.4385) -> (50.8509, -16.9973)
  line L8 (50.8509, -16.9973) -> (51.6727, -13.9305)
  line L9 (51.6727, -13.9305) -> (49.5872, -13.3717)
  line L10 (49.5872, -13.3717) -> (50.8509, -16.9973) construction
  line L11 (48.7655, -16.4385) -> (51.6727, -13.9305) construction
  line L12 (50.937, -10.0519) -> (47.6072, -10.2115)
  line L13 (47.6072, -10.2115) -> (50.674, -11.0333)
  line L14 (49.5872, -13.3717) -> (46.9498, -12.665)
  line L15 (46.9498, -12.665) -> (49.3243, -14.3531)
  line L16 (51.9007, -11.362) -> (52.8821, -11.625)
  line L17 (52.8821, -11.625) -> (51.7364, -11.9754)
  line L18 (25.4, -9.7833) -> (37.7185, -9.7833) construction
  line L19 (51.6727, -13.9305) -> (52.2247, -14.0784)
  line L20 (52.2247, -14.0784) -> (51.4077, -13.2021)
  line L21 (51.4077, -13.2021) -> (51.2433, -13.8154) construction
  point P0 (49.9068, -16.3499)
  point P1 (50.2191, -15.1845)
  dimension "d42" = 3.175
  dimension "d43" = 3.175
  dimension "d44" = 1.016
  dimension "d45" = 1.27
  dimension "d46" = 1.016
  dimension "d47" = 1.016
  dimension "d49" = 0.635
  dimension "d50" = 3.175
  dimension "d51" = 12.7
  dimension "d52" = 2.159
  dimension "d53" = 2.54
  dimension "d54" = 25.4
  dimension "d55" = 0.635
  dimension "d56" = 25.5384
  dimension "d57" = 25.5384
  dimension "d58" = 15
  dimension "d59" = 1.016
  dimension "d60" = 0.635
extrude "Extrusion2" cut sketch "Sketch3" along normal through all contours L0 L9 L2 L1 | L20 L19 L9 L0 | L0 L16 L17 | L9 L8 L7 L0 | L0 L7 L2 L9 | L0 L3 L2 L7 | L2 L7 L6 L9 | L13 L12 L2 | L6 L15 L14 keep common part
equation "\"d15\" = 0.5 * d14"
equation "\"d17\" = 0.5 * d11"
equation "\"d22\" = 0.5 * d21"
equation "\"d24\" = d22"
equation "\"d32\" = 0.5 * d31"
properties part number "Team Pin Cad-Caliper"
